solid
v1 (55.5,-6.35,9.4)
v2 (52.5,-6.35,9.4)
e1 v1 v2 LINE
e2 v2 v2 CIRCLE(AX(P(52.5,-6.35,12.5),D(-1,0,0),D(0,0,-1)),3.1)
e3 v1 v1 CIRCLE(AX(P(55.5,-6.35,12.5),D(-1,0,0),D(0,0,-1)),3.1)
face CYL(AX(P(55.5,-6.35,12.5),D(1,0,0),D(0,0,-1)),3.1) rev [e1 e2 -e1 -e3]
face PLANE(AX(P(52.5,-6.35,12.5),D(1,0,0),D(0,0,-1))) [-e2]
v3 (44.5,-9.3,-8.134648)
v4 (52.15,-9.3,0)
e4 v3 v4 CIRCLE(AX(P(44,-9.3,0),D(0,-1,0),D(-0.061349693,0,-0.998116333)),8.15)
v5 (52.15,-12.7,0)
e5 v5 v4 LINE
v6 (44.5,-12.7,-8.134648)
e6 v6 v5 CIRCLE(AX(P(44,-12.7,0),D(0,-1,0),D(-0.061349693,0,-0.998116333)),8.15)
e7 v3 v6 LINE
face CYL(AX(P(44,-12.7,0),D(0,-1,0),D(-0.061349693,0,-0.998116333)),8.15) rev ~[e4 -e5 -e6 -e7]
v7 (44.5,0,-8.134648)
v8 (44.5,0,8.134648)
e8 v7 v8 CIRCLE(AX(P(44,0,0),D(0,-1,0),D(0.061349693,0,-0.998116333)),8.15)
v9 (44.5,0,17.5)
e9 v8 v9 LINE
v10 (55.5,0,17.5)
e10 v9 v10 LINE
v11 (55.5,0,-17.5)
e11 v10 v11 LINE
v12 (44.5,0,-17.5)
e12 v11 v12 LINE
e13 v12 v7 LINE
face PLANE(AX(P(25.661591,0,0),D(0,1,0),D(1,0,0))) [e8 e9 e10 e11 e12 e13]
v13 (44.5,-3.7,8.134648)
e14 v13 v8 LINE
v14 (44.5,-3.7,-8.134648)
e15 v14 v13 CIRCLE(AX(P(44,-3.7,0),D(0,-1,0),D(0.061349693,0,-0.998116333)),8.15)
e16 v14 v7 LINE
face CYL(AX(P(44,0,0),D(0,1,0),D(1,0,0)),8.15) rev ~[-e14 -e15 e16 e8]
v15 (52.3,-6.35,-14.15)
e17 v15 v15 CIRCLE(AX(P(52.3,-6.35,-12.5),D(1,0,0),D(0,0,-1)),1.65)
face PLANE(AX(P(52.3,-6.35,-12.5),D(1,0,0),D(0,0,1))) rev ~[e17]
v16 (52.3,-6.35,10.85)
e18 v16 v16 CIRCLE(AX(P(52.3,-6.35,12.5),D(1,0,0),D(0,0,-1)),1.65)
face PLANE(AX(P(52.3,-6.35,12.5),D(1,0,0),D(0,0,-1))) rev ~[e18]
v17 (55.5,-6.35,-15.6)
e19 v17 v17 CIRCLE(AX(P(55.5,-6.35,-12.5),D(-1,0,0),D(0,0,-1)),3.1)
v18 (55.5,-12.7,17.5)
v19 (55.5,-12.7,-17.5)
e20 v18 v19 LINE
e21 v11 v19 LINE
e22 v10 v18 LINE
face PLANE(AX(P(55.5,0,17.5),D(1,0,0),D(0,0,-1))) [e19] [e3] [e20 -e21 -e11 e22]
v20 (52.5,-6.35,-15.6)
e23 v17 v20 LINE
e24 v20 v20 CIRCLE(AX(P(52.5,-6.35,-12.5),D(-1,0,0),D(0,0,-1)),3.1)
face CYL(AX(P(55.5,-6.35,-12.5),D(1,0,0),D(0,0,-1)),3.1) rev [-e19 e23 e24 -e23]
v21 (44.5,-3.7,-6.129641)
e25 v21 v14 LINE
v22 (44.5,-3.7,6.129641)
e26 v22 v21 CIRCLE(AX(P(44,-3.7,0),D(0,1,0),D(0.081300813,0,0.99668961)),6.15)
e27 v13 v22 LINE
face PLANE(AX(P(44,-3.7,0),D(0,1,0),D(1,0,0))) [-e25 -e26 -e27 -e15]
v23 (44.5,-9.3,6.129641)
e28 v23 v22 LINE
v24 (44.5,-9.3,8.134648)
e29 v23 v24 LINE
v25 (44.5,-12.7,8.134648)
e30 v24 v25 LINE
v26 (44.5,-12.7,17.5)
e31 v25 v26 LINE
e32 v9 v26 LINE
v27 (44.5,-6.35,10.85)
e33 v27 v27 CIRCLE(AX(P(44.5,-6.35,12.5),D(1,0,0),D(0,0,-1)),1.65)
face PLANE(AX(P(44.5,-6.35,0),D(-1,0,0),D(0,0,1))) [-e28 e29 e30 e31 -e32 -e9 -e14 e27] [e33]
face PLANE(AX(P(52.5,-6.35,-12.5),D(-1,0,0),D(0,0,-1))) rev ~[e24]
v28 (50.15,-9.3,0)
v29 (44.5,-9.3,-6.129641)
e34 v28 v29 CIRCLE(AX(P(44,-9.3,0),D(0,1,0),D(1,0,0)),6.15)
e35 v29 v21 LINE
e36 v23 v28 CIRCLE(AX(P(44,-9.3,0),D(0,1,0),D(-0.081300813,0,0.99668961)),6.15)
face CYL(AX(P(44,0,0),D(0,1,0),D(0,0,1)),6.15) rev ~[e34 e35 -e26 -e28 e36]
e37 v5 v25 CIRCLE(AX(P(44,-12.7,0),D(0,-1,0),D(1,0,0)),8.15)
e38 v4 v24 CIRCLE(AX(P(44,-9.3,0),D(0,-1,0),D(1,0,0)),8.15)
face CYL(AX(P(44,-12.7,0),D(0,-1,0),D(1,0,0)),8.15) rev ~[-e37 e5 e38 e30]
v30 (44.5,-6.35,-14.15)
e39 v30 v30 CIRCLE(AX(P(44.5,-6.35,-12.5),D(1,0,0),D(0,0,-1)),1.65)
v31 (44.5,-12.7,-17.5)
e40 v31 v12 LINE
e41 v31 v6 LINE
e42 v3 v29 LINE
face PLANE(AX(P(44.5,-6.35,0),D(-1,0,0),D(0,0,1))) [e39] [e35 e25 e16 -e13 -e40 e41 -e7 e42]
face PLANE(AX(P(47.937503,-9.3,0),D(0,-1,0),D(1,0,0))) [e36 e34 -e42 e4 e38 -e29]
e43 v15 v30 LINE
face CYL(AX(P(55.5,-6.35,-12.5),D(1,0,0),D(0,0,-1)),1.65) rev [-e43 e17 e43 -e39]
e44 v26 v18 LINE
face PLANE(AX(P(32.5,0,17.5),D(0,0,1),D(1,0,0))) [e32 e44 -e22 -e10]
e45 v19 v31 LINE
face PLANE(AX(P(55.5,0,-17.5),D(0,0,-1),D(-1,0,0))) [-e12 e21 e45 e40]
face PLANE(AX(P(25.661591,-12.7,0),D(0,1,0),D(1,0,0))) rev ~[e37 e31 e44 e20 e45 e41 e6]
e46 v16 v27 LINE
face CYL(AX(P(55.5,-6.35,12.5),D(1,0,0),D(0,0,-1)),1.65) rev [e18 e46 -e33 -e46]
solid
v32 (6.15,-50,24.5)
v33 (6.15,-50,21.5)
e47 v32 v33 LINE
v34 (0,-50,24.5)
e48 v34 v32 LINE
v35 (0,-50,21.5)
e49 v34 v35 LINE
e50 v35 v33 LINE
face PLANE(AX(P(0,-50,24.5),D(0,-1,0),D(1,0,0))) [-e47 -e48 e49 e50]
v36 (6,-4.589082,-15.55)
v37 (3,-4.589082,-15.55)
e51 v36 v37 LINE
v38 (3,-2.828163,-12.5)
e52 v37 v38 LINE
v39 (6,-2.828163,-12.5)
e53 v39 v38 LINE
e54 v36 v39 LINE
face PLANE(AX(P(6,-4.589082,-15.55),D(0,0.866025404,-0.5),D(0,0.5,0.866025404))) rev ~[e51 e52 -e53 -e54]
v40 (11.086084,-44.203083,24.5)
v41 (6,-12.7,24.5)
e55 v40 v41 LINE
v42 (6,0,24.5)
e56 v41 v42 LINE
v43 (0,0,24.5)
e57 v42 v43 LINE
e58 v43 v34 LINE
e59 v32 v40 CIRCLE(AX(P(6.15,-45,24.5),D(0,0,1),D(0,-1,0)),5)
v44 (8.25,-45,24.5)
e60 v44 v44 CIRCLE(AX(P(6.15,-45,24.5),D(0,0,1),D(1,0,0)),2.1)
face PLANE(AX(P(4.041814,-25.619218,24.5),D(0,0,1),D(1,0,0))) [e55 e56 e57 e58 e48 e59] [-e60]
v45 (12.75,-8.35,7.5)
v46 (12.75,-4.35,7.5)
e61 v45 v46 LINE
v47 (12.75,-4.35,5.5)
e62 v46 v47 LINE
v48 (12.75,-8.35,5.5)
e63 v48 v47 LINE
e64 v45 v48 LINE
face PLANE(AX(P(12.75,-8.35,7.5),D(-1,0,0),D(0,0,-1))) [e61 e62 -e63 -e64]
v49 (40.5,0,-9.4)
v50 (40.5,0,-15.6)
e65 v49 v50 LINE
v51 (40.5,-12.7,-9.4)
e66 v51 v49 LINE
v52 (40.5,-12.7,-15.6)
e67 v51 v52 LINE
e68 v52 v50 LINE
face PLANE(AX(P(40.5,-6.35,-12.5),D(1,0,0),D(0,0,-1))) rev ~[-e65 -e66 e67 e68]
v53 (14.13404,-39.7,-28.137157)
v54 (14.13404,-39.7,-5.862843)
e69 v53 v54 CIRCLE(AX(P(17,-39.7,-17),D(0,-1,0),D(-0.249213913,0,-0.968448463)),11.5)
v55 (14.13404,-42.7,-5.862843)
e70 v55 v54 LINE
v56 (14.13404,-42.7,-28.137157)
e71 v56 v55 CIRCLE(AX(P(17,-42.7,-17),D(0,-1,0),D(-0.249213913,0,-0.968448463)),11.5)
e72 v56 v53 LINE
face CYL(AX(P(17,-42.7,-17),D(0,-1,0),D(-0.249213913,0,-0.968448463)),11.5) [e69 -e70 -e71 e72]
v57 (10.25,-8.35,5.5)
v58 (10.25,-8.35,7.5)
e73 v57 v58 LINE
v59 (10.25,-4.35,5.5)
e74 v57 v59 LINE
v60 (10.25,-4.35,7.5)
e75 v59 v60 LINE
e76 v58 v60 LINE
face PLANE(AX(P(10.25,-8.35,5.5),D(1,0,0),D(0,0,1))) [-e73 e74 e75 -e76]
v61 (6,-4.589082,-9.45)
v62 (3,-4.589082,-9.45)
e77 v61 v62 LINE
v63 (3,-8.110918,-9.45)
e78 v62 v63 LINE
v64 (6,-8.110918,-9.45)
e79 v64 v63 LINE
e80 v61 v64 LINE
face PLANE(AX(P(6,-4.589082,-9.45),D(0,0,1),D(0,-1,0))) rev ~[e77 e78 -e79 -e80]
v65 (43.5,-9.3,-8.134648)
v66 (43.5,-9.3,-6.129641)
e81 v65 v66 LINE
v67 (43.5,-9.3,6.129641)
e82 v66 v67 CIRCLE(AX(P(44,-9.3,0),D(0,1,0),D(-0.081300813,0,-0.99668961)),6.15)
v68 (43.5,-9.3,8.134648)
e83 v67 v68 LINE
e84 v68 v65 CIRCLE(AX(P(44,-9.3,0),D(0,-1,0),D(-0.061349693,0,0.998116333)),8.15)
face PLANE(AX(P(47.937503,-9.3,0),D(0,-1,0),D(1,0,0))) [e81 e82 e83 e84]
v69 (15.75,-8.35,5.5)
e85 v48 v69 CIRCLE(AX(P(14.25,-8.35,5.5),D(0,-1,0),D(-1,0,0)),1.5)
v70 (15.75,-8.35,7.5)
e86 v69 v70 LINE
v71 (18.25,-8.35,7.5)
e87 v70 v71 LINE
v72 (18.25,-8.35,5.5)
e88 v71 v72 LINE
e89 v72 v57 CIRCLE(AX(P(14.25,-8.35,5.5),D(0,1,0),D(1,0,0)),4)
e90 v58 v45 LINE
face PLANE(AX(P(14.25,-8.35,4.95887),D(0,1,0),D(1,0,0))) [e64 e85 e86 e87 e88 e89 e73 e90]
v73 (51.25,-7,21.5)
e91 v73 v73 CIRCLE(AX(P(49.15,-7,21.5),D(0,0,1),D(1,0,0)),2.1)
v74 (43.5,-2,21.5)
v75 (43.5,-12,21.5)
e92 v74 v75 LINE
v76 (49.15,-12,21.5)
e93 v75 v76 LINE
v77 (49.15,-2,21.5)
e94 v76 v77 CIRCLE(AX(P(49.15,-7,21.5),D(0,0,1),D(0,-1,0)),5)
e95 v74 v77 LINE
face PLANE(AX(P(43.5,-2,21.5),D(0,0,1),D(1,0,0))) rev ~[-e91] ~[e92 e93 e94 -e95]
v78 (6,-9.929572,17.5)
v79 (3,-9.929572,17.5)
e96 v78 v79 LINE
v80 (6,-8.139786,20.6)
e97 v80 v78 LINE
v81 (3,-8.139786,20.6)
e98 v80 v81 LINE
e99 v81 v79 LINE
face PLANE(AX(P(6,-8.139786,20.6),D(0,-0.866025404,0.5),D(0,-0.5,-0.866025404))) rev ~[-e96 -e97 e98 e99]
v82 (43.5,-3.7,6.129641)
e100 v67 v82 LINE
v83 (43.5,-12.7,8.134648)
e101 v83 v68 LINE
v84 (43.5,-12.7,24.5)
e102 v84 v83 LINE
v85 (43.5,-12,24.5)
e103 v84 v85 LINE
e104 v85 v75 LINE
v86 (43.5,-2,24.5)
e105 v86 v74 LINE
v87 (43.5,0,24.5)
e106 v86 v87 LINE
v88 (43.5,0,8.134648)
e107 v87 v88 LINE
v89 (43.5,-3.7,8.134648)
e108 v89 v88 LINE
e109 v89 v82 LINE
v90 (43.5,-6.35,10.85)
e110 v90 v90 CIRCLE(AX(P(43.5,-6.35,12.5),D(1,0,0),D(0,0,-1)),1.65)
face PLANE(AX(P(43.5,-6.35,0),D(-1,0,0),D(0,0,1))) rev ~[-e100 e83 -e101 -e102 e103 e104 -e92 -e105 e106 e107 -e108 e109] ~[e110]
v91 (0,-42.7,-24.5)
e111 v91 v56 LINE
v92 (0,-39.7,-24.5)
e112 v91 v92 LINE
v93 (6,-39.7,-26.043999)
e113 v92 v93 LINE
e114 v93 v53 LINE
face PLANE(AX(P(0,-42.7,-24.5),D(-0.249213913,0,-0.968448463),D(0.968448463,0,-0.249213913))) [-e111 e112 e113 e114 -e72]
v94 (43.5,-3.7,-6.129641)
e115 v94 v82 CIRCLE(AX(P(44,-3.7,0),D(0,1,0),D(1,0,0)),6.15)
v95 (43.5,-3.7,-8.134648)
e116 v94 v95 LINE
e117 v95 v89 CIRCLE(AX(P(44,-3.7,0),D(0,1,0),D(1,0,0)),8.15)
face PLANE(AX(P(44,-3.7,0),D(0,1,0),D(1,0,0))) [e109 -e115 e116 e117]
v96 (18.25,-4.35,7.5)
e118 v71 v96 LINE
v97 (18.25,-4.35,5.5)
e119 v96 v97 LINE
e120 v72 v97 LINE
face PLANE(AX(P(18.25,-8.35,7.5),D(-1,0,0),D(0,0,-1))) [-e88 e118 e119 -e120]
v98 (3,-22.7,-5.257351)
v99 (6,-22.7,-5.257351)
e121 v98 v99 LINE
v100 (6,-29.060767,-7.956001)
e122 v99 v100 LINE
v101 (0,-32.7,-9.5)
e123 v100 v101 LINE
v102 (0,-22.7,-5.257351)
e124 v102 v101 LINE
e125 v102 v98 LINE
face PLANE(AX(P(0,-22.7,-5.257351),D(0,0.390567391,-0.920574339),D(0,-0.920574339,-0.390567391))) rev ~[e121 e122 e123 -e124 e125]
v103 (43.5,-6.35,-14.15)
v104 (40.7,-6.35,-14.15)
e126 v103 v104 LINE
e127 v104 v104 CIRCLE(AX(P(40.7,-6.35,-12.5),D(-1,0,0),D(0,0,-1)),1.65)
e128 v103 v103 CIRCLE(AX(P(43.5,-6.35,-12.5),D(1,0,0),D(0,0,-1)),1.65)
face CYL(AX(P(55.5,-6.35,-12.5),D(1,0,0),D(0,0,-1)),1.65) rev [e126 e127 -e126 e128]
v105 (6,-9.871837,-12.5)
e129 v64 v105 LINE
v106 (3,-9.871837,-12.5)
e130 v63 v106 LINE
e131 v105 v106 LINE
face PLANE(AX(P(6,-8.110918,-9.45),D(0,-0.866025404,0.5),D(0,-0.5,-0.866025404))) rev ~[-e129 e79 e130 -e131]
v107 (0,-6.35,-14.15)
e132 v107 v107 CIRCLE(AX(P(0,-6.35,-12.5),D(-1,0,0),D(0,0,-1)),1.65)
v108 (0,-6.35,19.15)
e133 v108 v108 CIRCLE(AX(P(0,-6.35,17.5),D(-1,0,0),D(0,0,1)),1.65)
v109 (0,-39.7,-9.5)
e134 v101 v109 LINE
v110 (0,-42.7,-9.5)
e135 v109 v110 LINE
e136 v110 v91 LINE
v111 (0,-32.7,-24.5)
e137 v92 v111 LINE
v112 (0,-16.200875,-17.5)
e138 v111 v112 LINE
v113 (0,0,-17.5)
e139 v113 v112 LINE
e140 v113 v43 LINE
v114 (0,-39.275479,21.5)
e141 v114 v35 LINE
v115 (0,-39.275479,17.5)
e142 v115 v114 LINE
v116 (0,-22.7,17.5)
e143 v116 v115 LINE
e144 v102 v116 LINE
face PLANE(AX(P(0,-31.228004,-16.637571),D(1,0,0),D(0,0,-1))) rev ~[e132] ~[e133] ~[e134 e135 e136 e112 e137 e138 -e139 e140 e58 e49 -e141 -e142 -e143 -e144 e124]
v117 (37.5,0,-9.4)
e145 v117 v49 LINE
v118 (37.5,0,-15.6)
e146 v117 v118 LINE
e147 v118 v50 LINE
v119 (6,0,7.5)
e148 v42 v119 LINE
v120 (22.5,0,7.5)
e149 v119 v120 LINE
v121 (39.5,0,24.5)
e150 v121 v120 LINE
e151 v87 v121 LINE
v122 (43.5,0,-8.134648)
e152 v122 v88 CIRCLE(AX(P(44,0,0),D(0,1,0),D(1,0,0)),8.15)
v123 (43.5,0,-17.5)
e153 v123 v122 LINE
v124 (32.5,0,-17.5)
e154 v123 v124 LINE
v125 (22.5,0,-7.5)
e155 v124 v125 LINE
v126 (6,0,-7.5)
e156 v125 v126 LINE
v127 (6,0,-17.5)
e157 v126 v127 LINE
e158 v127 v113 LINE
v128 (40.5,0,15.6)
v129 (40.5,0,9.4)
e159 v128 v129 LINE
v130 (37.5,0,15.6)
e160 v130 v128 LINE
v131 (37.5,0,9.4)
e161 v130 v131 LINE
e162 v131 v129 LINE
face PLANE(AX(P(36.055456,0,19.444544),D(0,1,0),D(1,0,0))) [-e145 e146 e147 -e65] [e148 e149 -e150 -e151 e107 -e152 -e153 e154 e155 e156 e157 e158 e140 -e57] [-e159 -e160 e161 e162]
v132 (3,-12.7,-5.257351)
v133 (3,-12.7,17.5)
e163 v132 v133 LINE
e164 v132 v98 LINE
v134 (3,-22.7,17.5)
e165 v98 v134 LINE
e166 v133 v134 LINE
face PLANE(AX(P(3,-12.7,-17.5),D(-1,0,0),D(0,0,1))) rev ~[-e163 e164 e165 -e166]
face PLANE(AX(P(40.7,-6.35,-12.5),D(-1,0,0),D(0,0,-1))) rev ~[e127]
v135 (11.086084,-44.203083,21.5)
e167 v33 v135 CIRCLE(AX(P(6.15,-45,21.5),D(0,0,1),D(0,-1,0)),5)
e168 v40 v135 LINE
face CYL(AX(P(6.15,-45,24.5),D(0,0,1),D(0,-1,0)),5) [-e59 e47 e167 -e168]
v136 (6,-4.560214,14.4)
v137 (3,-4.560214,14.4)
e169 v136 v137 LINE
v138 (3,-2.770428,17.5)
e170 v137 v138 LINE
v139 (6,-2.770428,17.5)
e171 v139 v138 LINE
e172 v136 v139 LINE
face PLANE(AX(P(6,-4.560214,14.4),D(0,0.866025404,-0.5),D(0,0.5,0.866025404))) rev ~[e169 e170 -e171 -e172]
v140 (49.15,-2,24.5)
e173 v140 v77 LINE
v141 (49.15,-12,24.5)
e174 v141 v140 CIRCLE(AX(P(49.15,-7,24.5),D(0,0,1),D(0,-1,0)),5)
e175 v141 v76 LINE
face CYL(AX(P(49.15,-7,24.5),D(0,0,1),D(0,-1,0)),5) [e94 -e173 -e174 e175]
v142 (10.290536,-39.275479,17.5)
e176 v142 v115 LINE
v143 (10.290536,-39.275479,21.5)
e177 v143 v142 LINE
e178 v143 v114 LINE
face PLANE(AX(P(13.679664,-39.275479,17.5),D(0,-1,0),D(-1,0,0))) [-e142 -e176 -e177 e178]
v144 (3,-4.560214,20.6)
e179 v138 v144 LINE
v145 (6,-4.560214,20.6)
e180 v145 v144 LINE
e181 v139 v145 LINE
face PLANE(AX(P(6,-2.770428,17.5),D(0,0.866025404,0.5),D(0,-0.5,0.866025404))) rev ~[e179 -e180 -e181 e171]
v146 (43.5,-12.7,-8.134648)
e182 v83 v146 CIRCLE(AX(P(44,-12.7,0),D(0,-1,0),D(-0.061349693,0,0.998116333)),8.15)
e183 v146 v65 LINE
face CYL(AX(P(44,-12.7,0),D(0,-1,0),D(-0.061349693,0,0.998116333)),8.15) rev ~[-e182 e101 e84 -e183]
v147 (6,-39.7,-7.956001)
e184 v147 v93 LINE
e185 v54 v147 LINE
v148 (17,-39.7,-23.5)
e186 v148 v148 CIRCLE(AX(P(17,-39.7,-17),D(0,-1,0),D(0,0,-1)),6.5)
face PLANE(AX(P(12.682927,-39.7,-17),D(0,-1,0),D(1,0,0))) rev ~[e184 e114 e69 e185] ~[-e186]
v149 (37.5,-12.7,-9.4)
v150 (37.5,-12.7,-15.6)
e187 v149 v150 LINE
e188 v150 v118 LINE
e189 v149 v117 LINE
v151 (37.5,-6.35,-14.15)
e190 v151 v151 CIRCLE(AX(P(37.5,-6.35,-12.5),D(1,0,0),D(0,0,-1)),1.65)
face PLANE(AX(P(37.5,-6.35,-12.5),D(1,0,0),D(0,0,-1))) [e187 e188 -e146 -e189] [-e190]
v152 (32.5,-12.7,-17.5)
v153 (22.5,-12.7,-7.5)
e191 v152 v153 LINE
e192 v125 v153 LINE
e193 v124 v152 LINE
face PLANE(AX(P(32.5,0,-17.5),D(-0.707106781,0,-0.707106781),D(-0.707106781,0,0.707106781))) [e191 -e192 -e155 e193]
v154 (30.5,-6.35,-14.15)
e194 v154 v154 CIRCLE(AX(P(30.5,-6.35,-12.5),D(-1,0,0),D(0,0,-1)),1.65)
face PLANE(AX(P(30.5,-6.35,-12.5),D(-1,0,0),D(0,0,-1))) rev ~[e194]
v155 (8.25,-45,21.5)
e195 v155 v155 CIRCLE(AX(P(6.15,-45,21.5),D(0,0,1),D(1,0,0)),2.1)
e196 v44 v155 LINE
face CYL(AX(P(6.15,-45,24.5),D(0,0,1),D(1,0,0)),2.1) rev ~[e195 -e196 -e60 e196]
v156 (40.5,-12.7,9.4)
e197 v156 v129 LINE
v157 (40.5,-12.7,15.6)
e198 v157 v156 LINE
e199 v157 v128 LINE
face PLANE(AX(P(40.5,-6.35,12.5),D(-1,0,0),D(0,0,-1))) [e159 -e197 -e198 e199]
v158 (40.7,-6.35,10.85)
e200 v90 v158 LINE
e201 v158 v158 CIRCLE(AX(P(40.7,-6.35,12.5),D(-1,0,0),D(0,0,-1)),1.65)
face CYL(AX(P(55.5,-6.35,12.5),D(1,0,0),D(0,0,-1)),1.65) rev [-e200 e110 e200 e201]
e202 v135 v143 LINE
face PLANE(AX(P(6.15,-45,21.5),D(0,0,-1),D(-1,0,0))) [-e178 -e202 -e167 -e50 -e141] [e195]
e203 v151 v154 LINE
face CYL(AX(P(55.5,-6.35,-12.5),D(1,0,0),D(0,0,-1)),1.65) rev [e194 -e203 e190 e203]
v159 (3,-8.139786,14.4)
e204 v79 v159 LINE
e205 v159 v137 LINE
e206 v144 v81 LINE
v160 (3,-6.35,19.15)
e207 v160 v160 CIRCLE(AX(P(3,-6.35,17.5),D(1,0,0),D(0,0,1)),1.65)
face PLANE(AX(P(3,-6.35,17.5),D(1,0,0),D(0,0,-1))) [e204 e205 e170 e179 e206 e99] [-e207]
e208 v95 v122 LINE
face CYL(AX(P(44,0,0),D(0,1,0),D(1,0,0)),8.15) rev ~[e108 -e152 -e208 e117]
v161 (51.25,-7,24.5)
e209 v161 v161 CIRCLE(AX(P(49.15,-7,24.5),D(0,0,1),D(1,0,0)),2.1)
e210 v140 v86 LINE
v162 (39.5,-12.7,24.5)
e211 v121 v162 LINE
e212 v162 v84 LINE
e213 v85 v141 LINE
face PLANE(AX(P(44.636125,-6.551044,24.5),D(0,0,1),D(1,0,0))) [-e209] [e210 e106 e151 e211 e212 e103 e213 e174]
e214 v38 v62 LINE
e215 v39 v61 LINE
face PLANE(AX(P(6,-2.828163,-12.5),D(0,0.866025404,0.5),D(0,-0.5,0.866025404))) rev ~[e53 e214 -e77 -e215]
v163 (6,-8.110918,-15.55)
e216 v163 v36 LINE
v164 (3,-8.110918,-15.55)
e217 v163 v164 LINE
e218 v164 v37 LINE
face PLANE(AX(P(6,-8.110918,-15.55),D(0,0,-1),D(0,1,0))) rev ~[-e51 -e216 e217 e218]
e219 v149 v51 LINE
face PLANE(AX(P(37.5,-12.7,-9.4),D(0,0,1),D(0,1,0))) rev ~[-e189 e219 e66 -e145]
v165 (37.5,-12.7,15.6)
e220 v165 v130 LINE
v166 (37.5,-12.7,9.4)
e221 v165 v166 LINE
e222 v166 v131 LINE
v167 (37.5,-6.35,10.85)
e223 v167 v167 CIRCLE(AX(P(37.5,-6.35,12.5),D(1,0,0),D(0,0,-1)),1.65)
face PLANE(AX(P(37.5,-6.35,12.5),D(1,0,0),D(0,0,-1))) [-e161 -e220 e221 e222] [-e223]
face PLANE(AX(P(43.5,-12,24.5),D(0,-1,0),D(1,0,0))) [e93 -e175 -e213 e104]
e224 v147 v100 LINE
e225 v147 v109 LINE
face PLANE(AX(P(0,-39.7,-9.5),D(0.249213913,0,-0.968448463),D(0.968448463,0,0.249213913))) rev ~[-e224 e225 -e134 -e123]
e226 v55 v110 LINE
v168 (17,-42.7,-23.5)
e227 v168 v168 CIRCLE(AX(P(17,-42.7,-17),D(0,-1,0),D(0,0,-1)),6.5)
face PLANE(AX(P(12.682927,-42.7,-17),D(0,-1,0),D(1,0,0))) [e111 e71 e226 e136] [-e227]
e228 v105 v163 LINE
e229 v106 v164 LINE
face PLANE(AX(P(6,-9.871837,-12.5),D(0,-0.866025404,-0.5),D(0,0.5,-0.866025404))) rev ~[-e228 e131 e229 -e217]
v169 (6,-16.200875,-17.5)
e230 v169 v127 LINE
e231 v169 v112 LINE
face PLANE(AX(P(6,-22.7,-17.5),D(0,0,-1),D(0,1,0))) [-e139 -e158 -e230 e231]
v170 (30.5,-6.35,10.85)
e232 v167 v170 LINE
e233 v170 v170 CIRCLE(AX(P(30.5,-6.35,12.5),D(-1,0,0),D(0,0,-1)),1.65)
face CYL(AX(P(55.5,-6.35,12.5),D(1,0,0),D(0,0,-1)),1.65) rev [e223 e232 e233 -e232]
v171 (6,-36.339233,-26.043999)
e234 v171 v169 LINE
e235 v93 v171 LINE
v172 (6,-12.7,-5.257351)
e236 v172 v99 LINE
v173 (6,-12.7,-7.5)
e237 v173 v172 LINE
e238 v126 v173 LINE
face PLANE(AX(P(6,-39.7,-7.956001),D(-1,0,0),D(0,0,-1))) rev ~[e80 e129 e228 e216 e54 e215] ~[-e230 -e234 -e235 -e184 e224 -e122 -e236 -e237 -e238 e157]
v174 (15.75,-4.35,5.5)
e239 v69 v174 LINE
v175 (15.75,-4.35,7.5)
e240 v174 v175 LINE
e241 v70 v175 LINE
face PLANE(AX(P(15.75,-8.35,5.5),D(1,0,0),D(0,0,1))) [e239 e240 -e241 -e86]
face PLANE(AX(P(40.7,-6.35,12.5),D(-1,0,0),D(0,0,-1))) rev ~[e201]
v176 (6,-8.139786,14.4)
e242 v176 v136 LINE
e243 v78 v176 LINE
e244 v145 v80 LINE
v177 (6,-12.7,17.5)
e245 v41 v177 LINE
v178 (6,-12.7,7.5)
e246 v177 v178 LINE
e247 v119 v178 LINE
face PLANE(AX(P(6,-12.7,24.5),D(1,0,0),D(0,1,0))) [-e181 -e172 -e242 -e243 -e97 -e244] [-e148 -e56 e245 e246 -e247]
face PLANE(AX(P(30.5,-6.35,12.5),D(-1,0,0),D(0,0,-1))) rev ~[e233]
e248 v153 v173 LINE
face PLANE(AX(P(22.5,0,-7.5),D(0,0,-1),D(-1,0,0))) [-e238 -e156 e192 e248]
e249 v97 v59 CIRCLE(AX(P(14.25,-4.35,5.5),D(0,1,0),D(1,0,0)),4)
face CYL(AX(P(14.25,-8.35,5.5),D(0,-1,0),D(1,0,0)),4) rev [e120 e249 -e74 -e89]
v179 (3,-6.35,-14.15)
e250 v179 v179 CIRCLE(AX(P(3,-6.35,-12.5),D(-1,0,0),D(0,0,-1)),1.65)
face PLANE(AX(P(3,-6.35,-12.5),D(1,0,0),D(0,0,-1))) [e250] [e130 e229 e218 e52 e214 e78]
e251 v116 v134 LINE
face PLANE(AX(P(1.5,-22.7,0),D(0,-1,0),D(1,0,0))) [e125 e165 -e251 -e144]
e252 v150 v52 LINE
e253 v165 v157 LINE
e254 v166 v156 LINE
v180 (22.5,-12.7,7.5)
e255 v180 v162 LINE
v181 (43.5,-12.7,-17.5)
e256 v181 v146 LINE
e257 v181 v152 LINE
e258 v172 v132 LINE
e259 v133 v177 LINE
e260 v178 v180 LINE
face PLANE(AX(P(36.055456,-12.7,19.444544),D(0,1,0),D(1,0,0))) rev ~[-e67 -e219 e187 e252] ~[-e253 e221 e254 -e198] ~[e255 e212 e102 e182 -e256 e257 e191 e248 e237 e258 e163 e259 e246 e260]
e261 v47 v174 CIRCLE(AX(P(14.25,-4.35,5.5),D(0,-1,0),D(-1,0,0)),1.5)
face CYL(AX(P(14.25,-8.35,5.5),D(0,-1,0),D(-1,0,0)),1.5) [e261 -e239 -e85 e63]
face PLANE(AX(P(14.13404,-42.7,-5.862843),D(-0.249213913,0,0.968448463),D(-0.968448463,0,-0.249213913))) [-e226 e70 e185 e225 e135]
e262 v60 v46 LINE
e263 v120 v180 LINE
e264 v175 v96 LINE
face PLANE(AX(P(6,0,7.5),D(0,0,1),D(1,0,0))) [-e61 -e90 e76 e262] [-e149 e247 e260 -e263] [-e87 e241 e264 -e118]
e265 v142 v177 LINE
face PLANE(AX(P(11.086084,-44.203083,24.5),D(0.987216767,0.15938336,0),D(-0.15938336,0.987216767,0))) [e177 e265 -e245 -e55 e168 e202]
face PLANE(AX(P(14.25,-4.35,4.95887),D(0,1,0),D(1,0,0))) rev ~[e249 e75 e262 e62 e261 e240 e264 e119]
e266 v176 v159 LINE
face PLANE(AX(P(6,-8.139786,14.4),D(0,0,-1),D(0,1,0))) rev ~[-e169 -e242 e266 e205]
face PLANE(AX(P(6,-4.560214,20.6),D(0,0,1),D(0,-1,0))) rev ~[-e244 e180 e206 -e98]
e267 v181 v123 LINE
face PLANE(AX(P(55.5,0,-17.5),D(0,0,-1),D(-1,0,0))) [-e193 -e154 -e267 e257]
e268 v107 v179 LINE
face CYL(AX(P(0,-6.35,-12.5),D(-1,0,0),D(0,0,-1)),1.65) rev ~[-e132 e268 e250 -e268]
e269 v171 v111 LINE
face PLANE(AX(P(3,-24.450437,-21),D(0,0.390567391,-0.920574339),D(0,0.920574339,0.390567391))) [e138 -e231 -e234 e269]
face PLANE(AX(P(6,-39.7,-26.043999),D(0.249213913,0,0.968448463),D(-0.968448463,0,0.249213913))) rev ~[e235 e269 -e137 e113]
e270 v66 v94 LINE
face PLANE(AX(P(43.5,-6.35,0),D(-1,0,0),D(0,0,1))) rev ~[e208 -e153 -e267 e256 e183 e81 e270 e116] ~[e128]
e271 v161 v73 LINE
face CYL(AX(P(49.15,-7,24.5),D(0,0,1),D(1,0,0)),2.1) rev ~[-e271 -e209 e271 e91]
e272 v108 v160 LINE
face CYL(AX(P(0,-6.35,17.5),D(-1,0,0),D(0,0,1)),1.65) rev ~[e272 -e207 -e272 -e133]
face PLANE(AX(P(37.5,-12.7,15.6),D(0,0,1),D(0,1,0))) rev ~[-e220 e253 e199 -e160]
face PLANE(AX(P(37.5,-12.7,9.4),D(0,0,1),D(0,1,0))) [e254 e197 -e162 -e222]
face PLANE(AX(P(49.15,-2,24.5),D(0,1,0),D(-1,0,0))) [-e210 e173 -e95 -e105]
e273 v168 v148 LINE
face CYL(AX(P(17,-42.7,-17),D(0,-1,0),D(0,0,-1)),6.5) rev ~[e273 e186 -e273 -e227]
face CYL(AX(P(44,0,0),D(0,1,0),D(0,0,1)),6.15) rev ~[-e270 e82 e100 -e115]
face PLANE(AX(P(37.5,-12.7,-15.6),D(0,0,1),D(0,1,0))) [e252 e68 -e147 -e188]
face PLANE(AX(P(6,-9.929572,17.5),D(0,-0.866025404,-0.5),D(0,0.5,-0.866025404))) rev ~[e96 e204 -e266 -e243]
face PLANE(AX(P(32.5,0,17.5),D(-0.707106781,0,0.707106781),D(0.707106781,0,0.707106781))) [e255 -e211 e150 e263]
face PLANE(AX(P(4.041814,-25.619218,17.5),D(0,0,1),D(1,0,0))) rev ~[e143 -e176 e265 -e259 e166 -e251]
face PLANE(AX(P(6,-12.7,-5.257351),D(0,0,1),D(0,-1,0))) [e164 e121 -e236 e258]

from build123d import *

# Parameters (mm, degrees)
SKETCH_13_R               = 6.15
EXTRUDE_4_DEPTH           = 12.7
CUT_EXTRUDE_11_DEPTH      = 0.5
CUT_EXTRUDE_11_DEPTH_BACK = 0.5
SKETCH_15_W               = 35
SKETCH_15_H               = 12.7
SKETCH_14_R               = 3.1
SKETCH_14_R_2             = 1.65
CUT_EXTRUDE_12_DEPTH      = 3
SKETCH_14_3_R             = 1.65
CUT_EXTRUDE_13_DEPTH      = 25
SKETCH_16_W               = 6.2
SKETCH_16_H               = 12.7
CUT_EXTRUDE_14_DEPTH      = 3
SKETCH_17_R               = 8.15
SKETCH_17_R_2             = 6.15
CUT_EXTRUDE_30_DEPTH      = 3.7
CUT_EXTRUDE_31_DEPTH      = 3.4
SKETCH_19_R               = 1.65
CUT_EXTRUDE_32_DEPTH      = 6
CUT_EXTRUDE_33_DEPTH      = 3
SKETCH_21_W               = 3
SKETCH_21_H               = 35
EXTRUDE_5_DEPTH           = 10
SKETCH_22_R               = 2.1
EXTRUDE_6_DEPTH           = 7
SKETCH_41_W               = 15.059328192
SKETCH_41_H               = 11.44904226
CUT_EXTRUDE_34_DEPTH      = 4
SKETCH_42_W               = 10.65
SKETCH_42_H               = 4
CUT_EXTRUDE_35_DEPTH      = 10
CUT_EXTRUDE_36_DEPTH      = 12.7
EXTRUDE_7_DEPTH           = 12.7
EXTRUDE_START             = -6
EXTRUDE_8_DEPTH           = 6
SKETCH_44_R               = 6.5
EXTRUDE_9_DEPTH           = 3
EXTRUDE_14_DEPTH          = 3
CUT_EXTRUDE_37_DEPTH      = 2
CUT_EXTRUDE_37_DEPTH_BACK = 2
SKETCH_46_R               = 1.65
EXTRUDE_12_DEPTH          = 0.2
SKETCH_47_R               = 1.65
EXTRUDE_13_DEPTH          = 0.2
EXTRUDE_15_REACH          = 75.95
EXTRUDE_16_REACH          = 75.95
SKETCH_49_R               = 1.65
CUT_EXTRUDE_38_DEPTH      = 6
SKETCH_50_R               = 1.65
CUT_EXTRUDE_39_DEPTH      = 3


with BuildPart() as part:
    # 草圖13 → 填料-伸長4 (new body)
    with BuildSketch(Plane(origin=(0, 0, 0), x_dir=(1, 0, 0), z_dir=(0, 1, 0))):
        Polygon((0, 17.5), (0, -17.5), (6, -17.5), (6, -7.5), (22.5, -7.5), (32.5, -17.5), (55.5, -17.5), (55.5, 17.5), (32.5, 17.5), (22.5, 7.5), (6, 7.5), (6, 17.5), align=None)
        with Locations(Location((44, 0, 0), (0, 0, 270))):
            Circle(SKETCH_13_R, mode=Mode.SUBTRACT)
    extrude(amount=-EXTRUDE_4_DEPTH)

    # 草圖15 → 除料-伸長11 (cut, two sides: drawn at the far end of the back side and taken through both)
    with BuildSketch(Plane.ZY.offset(-44).offset(-CUT_EXTRUDE_11_DEPTH_BACK)):
        with Locations((0, -6.35)):
            Rectangle(SKETCH_15_W, SKETCH_15_H)
    extrude(amount=CUT_EXTRUDE_11_DEPTH + CUT_EXTRUDE_11_DEPTH_BACK, mode=Mode.SUBTRACT)


with BuildPart() as cut_extrude_11_piece_1:
    # of the separate pieces the step leaves, piece 1, a body of its own (cut_extrude_11_pieces)
    add(part.part.solids().sort_by_distance((0, 0, -17.5))[0])


with BuildPart() as cut_extrude_11_piece_2:
    # of the separate pieces the step leaves, piece 2, a body of its own (cut_extrude_11_pieces)
    add(part.part.solids().sort_by_distance((55.5, 0, -17.5))[0])

    # 草圖14 → 除料-伸長12 (cut)
    # profile 1 of 2: a face of its own
    with BuildSketch(Plane.ZY.offset(-55.5)):
        with Locations(Location((-12.5, -6.35, 0), (0, 0, 180))):
            Circle(SKETCH_14_R)
        with Locations(Location((-12.5, -6.35, 0), (0, 0, 180))):
            Circle(SKETCH_14_R_2, mode=Mode.SUBTRACT)
    # profile 2 of 2: a face of its own
    with BuildSketch(Plane.ZY.offset(-55.5)):
        with Locations(Location((12.5, -6.35, 0), (0, 0, 180))):
            Circle(SKETCH_14_R)
        with Locations(Location((12.5, -6.35, 0), (0, 0, 180))):
            Circle(SKETCH_14_R_2, mode=Mode.SUBTRACT)
    extrude(amount=CUT_EXTRUDE_12_DEPTH, mode=Mode.SUBTRACT)


with BuildPart() as cut_extrude_13_tool:
    # 草圖14<3> → 除料-伸長13 (new body)
    with BuildSketch(Plane.ZY.offset(-55.5)):
        with Locations(Location((-12.5, -6.35, 0), (0, 0, 180))):
            Circle(SKETCH_14_3_R)
        with Locations(Location((12.5, -6.35, 0), (0, 0, 180))):
            Circle(SKETCH_14_3_R)
    extrude(amount=CUT_EXTRUDE_13_DEPTH)


with BuildPart() as cut_extrude_11_piece_1_1:
    add(cut_extrude_11_piece_1.part)

    # 除料-伸長13: cut by cut_extrude_13_tool
    add(cut_extrude_13_tool.part, mode=Mode.SUBTRACT)

    # 草圖16 → 除料-伸長14 (cut)
    with BuildSketch(Plane(origin=(37.5, 0, 0), x_dir=(0, 0, -1), z_dir=(1, 0, 0))):
        with Locations((-12.5, -6.35)):
            Rectangle(SKETCH_16_W, SKETCH_16_H)
        with Locations((12.5, -6.35)):
            Rectangle(SKETCH_16_W, SKETCH_16_H)
    extrude(amount=CUT_EXTRUDE_14_DEPTH, mode=Mode.SUBTRACT)


with BuildPart() as cut_extrude_11_piece_2_1:
    add(cut_extrude_11_piece_2.part)

    # 除料-伸長13: cut by cut_extrude_13_tool
    add(cut_extrude_13_tool.part, mode=Mode.SUBTRACT)


with BuildPart() as cut_extrude_30_tool:
    # 草圖17 → 除料-伸長30 (new body)
    with BuildSketch(Plane(origin=(0, 0, 0), x_dir=(1, 0, 0), z_dir=(0, 1, 0))):
        with Locations((44, 0)):
            Circle(SKETCH_17_R)
        with Locations((44, 0)):
            Circle(SKETCH_17_R_2, mode=Mode.SUBTRACT)
    extrude(amount=-CUT_EXTRUDE_30_DEPTH)


with BuildPart() as cut_extrude_11_piece_1_2:
    add(cut_extrude_11_piece_1_1.part)

    # 除料-伸長30: cut by cut_extrude_30_tool
    add(cut_extrude_30_tool.part, mode=Mode.SUBTRACT)


with BuildPart() as cut_extrude_11_piece_2_2:
    add(cut_extrude_11_piece_2_1.part)

    # 除料-伸長30: cut by cut_extrude_30_tool
    add(cut_extrude_30_tool.part, mode=Mode.SUBTRACT)


with BuildPart() as cut_extrude_31_tool:
    # 草圖18 → 除料-伸長31 (new body)
    with BuildSketch(Plane.XZ.offset(12.7)):
        with BuildLine():
            ThreePointArc((43.5, -8.134648118), (49.583345771, -5.937065774), (52.15, 0))
            ThreePointArc((52.15, 0), (49.583345771, 5.937065774), (43.5, 8.134648118))
            Line((43.5, 8.134648118), (43.5, 6.129641099))
            ThreePointArc((43.5, 6.129641099), (48.168183057, 4.522029412), (50.15, 0))
            ThreePointArc((50.15, 0), (48.168183057, -4.522029412), (43.5, -6.129641099))
            Line((43.5, -6.129641099), (43.5, -8.134648118))
        make_face()
        with BuildLine():
            Line((43.5, 6.129641099), (43.5, 8.134648118))
            ThreePointArc((43.5, 8.134648118), (35.85, 0), (43.5, -8.134648118))
            Line((43.5, -8.134648118), (43.5, -6.129641099))
            ThreePointArc((43.5, -6.129641099), (37.85, 0), (43.5, 6.129641099))
        make_face()
    extrude(amount=-CUT_EXTRUDE_31_DEPTH)


with BuildPart() as cut_extrude_11_piece_1_3:
    add(cut_extrude_11_piece_1_2.part)

    # 除料-伸長31: cut by cut_extrude_31_tool
    add(cut_extrude_31_tool.part, mode=Mode.SUBTRACT)

    # 草圖19 → 除料-伸長32 (cut)
    with BuildSketch(Plane.ZY):
        with Locations(Location((-12.5, -6.35, 0), (0, 0, 180))):
            Circle(SKETCH_19_R)
    extrude(amount=-CUT_EXTRUDE_32_DEPTH, mode=Mode.SUBTRACT)

    # 草圖20 → 除料-伸長33 (cut)
    with BuildSketch(Plane(origin=(6, 0, 0), x_dir=(0, 0, -1), z_dir=(1, 0, 0))):
        Polygon((15.55, -8.110918321), (15.55, -4.589081679), (12.5, -2.828163358), (9.45, -4.589081679), (9.45, -8.110918321), (12.5, -9.871836642), align=None)
    extrude(amount=-CUT_EXTRUDE_33_DEPTH, mode=Mode.SUBTRACT)

    # 草圖21 → 填料-伸長5 (add)
    with BuildSketch(Plane.XZ.offset(12.7)):
        with Locations((1.5, 0)):
            Rectangle(SKETCH_21_W, SKETCH_21_H)
    extrude(amount=EXTRUDE_5_DEPTH)



with BuildPart() as cut_extrude_11_piece_2_3:
    add(cut_extrude_11_piece_2_2.part)

    # 除料-伸長31: cut by cut_extrude_31_tool
    add(cut_extrude_31_tool.part, mode=Mode.SUBTRACT)


with BuildPart() as cut_extrude_11_piece_1_4:
    add(cut_extrude_11_piece_1_3.part)

    add(cut_extrude_11_piece_2_3.part)  # 填料-伸長6 merges 除料-伸長11 piece 2
    # 草圖22 → 填料-伸長6 (add)
    # profile 1 of 2: a face of its own
    with BuildSketch(Plane.XY.offset(24.5)):
        with BuildLine():
            Line((6, 0), (0, 0))
            Line((0, 0), (0, -50))
            Line((0, -50), (6.15, -50))
            ThreePointArc((6.15, -50), (9.956874308, -48.241559502), (11.086083834, -44.203083202))
            Line((11.086083834, -44.203083202), (6, -12.7))
            Line((6, -12.7), (6, 0))
        make_face()
        with Locations((6.15, -45)):
            Circle(SKETCH_22_R, mode=Mode.SUBTRACT)
    # profile 2 of 2: a face of its own
    with BuildSketch(Plane.XY.offset(24.5)):
        with BuildLine():
            Line((43.5, -12), (49.15, -12))
            ThreePointArc((49.15, -12), (54.15, -7), (49.15, -2))
            Line((49.15, -2), (43.5, -2))
            Line((43.5, -2), (43.5, 0))
            Line((43.5, 0), (38, 0))
            Line((38, 0), (38, -12.7))
            Line((38, -12.7), (43.5, -12.7))
            Line((43.5, -12.7), (43.5, -12))
        make_face()
        with Locations((49.15, -7)):
            Circle(SKETCH_22_R, mode=Mode.SUBTRACT)
    extrude(amount=-EXTRUDE_6_DEPTH)

    # 草圖41 → 除料-伸長34 (cut)
    with BuildSketch(Plane(origin=(0, 0, 17.5), x_dir=(-1, 0, 0), z_dir=(0, 0, -1))):
        with Locations((-6.15, -45)):
            Rectangle(SKETCH_41_W, SKETCH_41_H)
    extrude(amount=-CUT_EXTRUDE_34_DEPTH, mode=Mode.SUBTRACT)

    # 草圖42 → 除料-伸長35 (cut)
    with BuildSketch(Plane(origin=(0, -2, 0), x_dir=(1, 0, 0), z_dir=(0, 1, 0))):
        with Locations((48.825, -19.5)):
            Rectangle(SKETCH_42_W, SKETCH_42_H)
    extrude(amount=-CUT_EXTRUDE_35_DEPTH, mode=Mode.SUBTRACT)


with BuildPart() as cut_extrude_35_piece_1:
    # of the separate pieces the step leaves, piece 1, a body of its own (cut_extrude_35_pieces)
    add(cut_extrude_11_piece_1_4.part.solids().sort_by_distance((43.5, -12.7, 8.134648118))[0])

    # 草圖43 → 除料-伸長36 (cut)
    with BuildSketch(Plane(origin=(0, 0, 0), x_dir=(1, 0, 0), z_dir=(0, 1, 0))):
        Polygon((39.5, -24.5), (38, -23), (38, -24.5), align=None)
    extrude(amount=-CUT_EXTRUDE_36_DEPTH, mode=Mode.SUBTRACT)

    # 草圖43<3> → 填料-伸長7 (add)
    with BuildSketch(Plane(origin=(0, 0, 0), x_dir=(1, 0, 0), z_dir=(0, 1, 0))):
        Polygon((38, -17.5), (32.5, -17.5), (38, -23), align=None)
    extrude(amount=-EXTRUDE_7_DEPTH)

    # 草圖34 → 填料-伸長8 (add)
    with BuildSketch(Plane(origin=(6, 0, 0), x_dir=(0, 0, -1), z_dir=(1, 0, 0)).offset(EXTRUDE_START)):
        Polygon((24.5, -32.7), (17.5, -16.200874589), (17.5, -22.7), (9.5, -22.7), (9.5, -32.7), (9.5, -42.7), (24.5, -42.7), align=None)
        Polygon((9.5, -32.7), (9.5, -22.7), (5.257350874, -22.7), align=None)
    extrude(amount=EXTRUDE_8_DEPTH)

    # 草圖44 → 填料-伸長9 (add)
    with BuildSketch(Plane.XZ.offset(42.7)):
        with BuildLine():
            Line((6, -24.5), (0, -24.5))
            Line((0, -24.5), (14.134039996, -28.137157324))
            ThreePointArc((14.134039996, -28.137157324), (28.5, -17), (14.134039996, -5.862842676))
            Line((14.134039996, -5.862842676), (0, -9.5))
            Line((0, -9.5), (6, -9.5))
            Line((6, -9.5), (6, -24.5))
        make_face()
        with Locations(Location((17, -17, 0), (0, 0, 270))):
            Circle(SKETCH_44_R, mode=Mode.SUBTRACT)
    extrude(amount=-EXTRUDE_9_DEPTH)

    # 草圖34<5> → 填料-伸長14 (add)
    with BuildSketch(Plane(origin=(6, 0, 0), x_dir=(0, 0, -1), z_dir=(1, 0, 0))):
        Polygon((17.5, -12.7), (9.5, -12.7), (5.257350874, -12.7), (5.257350874, -22.7), (17.5, -22.7), align=None)
    extrude(amount=-EXTRUDE_14_DEPTH)

    # 草圖39 → 除料-伸長37 (cut, two sides: drawn at the far end of the back side and taken through both)
    with BuildSketch(Plane(origin=(0, -6.35, 0), x_dir=(1, 0, 0), z_dir=(0, 1, 0)).offset(-CUT_EXTRUDE_37_DEPTH_BACK)):
        with BuildLine():
            Line((12.75, -7.5), (12.75, -5.5))
            ThreePointArc((12.75, -5.5), (14.25, -4), (15.75, -5.5))
            Line((15.75, -5.5), (15.75, -7.5))
            Line((15.75, -7.5), (17.714101615, -7.5))
            ThreePointArc((17.714101615, -7.5), (18.113703305, -6.53527618), (18.25, -5.5))
            ThreePointArc((18.25, -5.5), (14.25, -1.5), (10.25, -5.5))
            ThreePointArc((10.25, -5.5), (10.386296695, -6.53527618), (10.785898385, -7.5))
            Line((10.785898385, -7.5), (12.75, -7.5))
        make_face()
        with BuildLine():
            Line((10.25, -7.5), (10.785898385, -7.5))
            ThreePointArc((10.785898385, -7.5), (10.386296695, -6.53527618), (10.25, -5.5))
            Line((10.25, -5.5), (10.25, -7.5))
        make_face()
        with BuildLine():
            ThreePointArc((18.25, -5.5), (18.113703305, -6.53527618), (17.714101615, -7.5))
            Line((17.714101615, -7.5), (18.25, -7.5))
            Line((18.25, -7.5), (18.25, -5.5))
        make_face()
    extrude(amount=CUT_EXTRUDE_37_DEPTH + CUT_EXTRUDE_37_DEPTH_BACK, mode=Mode.SUBTRACT)

    # 草圖47 → 填料-伸長13 (add)
    with BuildSketch(Plane.ZY.offset(-40.5)):
        with Locations(Location((12.5, -6.35, 0), (0, 0, 180))):
            Circle(SKETCH_47_R)
        with Locations(Location((-12.5, -6.35, 0), (0, 0, 180))):
            Circle(SKETCH_47_R)
    extrude(amount=-EXTRUDE_13_DEPTH)

    # 填料-伸長15: up to this face of the body (flat: up to its plane)
    extrude_15_end = Plane(cut_extrude_35_piece_1.part.faces().sort_by_distance((3, -24.450437294, -21))[0])
    # 草圖48 → 填料-伸長15 (add, up to the picked face)
    with BuildSketch(Plane(origin=(0, -39.7, 0), x_dir=(1, 0, 0), z_dir=(0, 1, 0)), mode=Mode.PRIVATE) as extrude_15_sk1:
        Polygon((0, 24.5), (6, 24.5), (6, 26.043999023), align=None)
    extrude_15_tool1 = split(extrude(extrude_15_sk1.sketch, amount=EXTRUDE_15_REACH, mode=Mode.PRIVATE), bisect_by=extrude_15_end, keep=Keep.BOTH, mode=Mode.PRIVATE)
    add(extrude_15_tool1.solids().sort_by(Axis((4, -39.7, -25.014666), (0, 1, 0)))[0])

    # 填料-伸長16: up to this face of the body (flat: up to its plane)
    extrude_16_end = Plane(cut_extrude_35_piece_1.part.faces().sort_by_distance((3, -27.7, -7.378675437))[0])
    # 草圖48<3> → 填料-伸長16 (add, up to the picked face)
    with BuildSketch(Plane(origin=(0, -39.7, 0), x_dir=(1, 0, 0), z_dir=(0, 1, 0)), mode=Mode.PRIVATE) as extrude_16_sk1:
        Polygon((6, 9.5), (0, 9.5), (6, 7.956000977), align=None)
    extrude_16_tool1 = split(extrude(extrude_16_sk1.sketch, amount=EXTRUDE_16_REACH, mode=Mode.PRIVATE), bisect_by=extrude_16_end, keep=Keep.BOTH, mode=Mode.PRIVATE)
    add(extrude_16_tool1.solids().sort_by(Axis((4, -39.7, -8.985334), (0, 1, 0)))[0])

    # 草圖49 → 除料-伸長38 (cut)
    with BuildSketch(Plane.ZY):
        with Locations((17.5, -6.35)):
            Circle(SKETCH_49_R)
    extrude(amount=-CUT_EXTRUDE_38_DEPTH, mode=Mode.SUBTRACT)

    # 草圖50 → 除料-伸長39 (cut)
    with BuildSketch(Plane(origin=(6, 0, 0), x_dir=(0, 0, -1), z_dir=(1, 0, 0))):
        Polygon((-14.4, -8.139785834), (-14.4, -4.560214166), (-17.5, -2.770428331), (-20.6, -4.560214166), (-20.6, -8.139785834), (-17.5, -9.929571669), align=None)
        with Locations(Location((-17.5, -6.35, 0), (0, 0, 180))):
            Circle(SKETCH_50_R, mode=Mode.SUBTRACT)
    extrude(amount=-CUT_EXTRUDE_39_DEPTH, mode=Mode.SUBTRACT)


with BuildPart() as cut_extrude_35_piece_2:
    # of the separate pieces the step leaves, piece 2, a body of its own (cut_extrude_35_pieces)
    add(cut_extrude_11_piece_1_4.part.solids().sort_by_distance((55.5, 0, 17.5))[0])

    # 草圖46 → 填料-伸長12 (add)
    with BuildSketch(Plane(origin=(52.5, 0, 0), x_dir=(0, 0, -1), z_dir=(1, 0, 0))):
        with Locations((-12.5, -6.35)):
            Circle(SKETCH_46_R)
        with Locations(Location((12.5, -6.35, 0), (0, 0, 180))):
            Circle(SKETCH_46_R)
    extrude(amount=-EXTRUDE_12_DEPTH)


solid = Compound([cut_extrude_35_piece_1.part, cut_extrude_35_piece_2.part])
